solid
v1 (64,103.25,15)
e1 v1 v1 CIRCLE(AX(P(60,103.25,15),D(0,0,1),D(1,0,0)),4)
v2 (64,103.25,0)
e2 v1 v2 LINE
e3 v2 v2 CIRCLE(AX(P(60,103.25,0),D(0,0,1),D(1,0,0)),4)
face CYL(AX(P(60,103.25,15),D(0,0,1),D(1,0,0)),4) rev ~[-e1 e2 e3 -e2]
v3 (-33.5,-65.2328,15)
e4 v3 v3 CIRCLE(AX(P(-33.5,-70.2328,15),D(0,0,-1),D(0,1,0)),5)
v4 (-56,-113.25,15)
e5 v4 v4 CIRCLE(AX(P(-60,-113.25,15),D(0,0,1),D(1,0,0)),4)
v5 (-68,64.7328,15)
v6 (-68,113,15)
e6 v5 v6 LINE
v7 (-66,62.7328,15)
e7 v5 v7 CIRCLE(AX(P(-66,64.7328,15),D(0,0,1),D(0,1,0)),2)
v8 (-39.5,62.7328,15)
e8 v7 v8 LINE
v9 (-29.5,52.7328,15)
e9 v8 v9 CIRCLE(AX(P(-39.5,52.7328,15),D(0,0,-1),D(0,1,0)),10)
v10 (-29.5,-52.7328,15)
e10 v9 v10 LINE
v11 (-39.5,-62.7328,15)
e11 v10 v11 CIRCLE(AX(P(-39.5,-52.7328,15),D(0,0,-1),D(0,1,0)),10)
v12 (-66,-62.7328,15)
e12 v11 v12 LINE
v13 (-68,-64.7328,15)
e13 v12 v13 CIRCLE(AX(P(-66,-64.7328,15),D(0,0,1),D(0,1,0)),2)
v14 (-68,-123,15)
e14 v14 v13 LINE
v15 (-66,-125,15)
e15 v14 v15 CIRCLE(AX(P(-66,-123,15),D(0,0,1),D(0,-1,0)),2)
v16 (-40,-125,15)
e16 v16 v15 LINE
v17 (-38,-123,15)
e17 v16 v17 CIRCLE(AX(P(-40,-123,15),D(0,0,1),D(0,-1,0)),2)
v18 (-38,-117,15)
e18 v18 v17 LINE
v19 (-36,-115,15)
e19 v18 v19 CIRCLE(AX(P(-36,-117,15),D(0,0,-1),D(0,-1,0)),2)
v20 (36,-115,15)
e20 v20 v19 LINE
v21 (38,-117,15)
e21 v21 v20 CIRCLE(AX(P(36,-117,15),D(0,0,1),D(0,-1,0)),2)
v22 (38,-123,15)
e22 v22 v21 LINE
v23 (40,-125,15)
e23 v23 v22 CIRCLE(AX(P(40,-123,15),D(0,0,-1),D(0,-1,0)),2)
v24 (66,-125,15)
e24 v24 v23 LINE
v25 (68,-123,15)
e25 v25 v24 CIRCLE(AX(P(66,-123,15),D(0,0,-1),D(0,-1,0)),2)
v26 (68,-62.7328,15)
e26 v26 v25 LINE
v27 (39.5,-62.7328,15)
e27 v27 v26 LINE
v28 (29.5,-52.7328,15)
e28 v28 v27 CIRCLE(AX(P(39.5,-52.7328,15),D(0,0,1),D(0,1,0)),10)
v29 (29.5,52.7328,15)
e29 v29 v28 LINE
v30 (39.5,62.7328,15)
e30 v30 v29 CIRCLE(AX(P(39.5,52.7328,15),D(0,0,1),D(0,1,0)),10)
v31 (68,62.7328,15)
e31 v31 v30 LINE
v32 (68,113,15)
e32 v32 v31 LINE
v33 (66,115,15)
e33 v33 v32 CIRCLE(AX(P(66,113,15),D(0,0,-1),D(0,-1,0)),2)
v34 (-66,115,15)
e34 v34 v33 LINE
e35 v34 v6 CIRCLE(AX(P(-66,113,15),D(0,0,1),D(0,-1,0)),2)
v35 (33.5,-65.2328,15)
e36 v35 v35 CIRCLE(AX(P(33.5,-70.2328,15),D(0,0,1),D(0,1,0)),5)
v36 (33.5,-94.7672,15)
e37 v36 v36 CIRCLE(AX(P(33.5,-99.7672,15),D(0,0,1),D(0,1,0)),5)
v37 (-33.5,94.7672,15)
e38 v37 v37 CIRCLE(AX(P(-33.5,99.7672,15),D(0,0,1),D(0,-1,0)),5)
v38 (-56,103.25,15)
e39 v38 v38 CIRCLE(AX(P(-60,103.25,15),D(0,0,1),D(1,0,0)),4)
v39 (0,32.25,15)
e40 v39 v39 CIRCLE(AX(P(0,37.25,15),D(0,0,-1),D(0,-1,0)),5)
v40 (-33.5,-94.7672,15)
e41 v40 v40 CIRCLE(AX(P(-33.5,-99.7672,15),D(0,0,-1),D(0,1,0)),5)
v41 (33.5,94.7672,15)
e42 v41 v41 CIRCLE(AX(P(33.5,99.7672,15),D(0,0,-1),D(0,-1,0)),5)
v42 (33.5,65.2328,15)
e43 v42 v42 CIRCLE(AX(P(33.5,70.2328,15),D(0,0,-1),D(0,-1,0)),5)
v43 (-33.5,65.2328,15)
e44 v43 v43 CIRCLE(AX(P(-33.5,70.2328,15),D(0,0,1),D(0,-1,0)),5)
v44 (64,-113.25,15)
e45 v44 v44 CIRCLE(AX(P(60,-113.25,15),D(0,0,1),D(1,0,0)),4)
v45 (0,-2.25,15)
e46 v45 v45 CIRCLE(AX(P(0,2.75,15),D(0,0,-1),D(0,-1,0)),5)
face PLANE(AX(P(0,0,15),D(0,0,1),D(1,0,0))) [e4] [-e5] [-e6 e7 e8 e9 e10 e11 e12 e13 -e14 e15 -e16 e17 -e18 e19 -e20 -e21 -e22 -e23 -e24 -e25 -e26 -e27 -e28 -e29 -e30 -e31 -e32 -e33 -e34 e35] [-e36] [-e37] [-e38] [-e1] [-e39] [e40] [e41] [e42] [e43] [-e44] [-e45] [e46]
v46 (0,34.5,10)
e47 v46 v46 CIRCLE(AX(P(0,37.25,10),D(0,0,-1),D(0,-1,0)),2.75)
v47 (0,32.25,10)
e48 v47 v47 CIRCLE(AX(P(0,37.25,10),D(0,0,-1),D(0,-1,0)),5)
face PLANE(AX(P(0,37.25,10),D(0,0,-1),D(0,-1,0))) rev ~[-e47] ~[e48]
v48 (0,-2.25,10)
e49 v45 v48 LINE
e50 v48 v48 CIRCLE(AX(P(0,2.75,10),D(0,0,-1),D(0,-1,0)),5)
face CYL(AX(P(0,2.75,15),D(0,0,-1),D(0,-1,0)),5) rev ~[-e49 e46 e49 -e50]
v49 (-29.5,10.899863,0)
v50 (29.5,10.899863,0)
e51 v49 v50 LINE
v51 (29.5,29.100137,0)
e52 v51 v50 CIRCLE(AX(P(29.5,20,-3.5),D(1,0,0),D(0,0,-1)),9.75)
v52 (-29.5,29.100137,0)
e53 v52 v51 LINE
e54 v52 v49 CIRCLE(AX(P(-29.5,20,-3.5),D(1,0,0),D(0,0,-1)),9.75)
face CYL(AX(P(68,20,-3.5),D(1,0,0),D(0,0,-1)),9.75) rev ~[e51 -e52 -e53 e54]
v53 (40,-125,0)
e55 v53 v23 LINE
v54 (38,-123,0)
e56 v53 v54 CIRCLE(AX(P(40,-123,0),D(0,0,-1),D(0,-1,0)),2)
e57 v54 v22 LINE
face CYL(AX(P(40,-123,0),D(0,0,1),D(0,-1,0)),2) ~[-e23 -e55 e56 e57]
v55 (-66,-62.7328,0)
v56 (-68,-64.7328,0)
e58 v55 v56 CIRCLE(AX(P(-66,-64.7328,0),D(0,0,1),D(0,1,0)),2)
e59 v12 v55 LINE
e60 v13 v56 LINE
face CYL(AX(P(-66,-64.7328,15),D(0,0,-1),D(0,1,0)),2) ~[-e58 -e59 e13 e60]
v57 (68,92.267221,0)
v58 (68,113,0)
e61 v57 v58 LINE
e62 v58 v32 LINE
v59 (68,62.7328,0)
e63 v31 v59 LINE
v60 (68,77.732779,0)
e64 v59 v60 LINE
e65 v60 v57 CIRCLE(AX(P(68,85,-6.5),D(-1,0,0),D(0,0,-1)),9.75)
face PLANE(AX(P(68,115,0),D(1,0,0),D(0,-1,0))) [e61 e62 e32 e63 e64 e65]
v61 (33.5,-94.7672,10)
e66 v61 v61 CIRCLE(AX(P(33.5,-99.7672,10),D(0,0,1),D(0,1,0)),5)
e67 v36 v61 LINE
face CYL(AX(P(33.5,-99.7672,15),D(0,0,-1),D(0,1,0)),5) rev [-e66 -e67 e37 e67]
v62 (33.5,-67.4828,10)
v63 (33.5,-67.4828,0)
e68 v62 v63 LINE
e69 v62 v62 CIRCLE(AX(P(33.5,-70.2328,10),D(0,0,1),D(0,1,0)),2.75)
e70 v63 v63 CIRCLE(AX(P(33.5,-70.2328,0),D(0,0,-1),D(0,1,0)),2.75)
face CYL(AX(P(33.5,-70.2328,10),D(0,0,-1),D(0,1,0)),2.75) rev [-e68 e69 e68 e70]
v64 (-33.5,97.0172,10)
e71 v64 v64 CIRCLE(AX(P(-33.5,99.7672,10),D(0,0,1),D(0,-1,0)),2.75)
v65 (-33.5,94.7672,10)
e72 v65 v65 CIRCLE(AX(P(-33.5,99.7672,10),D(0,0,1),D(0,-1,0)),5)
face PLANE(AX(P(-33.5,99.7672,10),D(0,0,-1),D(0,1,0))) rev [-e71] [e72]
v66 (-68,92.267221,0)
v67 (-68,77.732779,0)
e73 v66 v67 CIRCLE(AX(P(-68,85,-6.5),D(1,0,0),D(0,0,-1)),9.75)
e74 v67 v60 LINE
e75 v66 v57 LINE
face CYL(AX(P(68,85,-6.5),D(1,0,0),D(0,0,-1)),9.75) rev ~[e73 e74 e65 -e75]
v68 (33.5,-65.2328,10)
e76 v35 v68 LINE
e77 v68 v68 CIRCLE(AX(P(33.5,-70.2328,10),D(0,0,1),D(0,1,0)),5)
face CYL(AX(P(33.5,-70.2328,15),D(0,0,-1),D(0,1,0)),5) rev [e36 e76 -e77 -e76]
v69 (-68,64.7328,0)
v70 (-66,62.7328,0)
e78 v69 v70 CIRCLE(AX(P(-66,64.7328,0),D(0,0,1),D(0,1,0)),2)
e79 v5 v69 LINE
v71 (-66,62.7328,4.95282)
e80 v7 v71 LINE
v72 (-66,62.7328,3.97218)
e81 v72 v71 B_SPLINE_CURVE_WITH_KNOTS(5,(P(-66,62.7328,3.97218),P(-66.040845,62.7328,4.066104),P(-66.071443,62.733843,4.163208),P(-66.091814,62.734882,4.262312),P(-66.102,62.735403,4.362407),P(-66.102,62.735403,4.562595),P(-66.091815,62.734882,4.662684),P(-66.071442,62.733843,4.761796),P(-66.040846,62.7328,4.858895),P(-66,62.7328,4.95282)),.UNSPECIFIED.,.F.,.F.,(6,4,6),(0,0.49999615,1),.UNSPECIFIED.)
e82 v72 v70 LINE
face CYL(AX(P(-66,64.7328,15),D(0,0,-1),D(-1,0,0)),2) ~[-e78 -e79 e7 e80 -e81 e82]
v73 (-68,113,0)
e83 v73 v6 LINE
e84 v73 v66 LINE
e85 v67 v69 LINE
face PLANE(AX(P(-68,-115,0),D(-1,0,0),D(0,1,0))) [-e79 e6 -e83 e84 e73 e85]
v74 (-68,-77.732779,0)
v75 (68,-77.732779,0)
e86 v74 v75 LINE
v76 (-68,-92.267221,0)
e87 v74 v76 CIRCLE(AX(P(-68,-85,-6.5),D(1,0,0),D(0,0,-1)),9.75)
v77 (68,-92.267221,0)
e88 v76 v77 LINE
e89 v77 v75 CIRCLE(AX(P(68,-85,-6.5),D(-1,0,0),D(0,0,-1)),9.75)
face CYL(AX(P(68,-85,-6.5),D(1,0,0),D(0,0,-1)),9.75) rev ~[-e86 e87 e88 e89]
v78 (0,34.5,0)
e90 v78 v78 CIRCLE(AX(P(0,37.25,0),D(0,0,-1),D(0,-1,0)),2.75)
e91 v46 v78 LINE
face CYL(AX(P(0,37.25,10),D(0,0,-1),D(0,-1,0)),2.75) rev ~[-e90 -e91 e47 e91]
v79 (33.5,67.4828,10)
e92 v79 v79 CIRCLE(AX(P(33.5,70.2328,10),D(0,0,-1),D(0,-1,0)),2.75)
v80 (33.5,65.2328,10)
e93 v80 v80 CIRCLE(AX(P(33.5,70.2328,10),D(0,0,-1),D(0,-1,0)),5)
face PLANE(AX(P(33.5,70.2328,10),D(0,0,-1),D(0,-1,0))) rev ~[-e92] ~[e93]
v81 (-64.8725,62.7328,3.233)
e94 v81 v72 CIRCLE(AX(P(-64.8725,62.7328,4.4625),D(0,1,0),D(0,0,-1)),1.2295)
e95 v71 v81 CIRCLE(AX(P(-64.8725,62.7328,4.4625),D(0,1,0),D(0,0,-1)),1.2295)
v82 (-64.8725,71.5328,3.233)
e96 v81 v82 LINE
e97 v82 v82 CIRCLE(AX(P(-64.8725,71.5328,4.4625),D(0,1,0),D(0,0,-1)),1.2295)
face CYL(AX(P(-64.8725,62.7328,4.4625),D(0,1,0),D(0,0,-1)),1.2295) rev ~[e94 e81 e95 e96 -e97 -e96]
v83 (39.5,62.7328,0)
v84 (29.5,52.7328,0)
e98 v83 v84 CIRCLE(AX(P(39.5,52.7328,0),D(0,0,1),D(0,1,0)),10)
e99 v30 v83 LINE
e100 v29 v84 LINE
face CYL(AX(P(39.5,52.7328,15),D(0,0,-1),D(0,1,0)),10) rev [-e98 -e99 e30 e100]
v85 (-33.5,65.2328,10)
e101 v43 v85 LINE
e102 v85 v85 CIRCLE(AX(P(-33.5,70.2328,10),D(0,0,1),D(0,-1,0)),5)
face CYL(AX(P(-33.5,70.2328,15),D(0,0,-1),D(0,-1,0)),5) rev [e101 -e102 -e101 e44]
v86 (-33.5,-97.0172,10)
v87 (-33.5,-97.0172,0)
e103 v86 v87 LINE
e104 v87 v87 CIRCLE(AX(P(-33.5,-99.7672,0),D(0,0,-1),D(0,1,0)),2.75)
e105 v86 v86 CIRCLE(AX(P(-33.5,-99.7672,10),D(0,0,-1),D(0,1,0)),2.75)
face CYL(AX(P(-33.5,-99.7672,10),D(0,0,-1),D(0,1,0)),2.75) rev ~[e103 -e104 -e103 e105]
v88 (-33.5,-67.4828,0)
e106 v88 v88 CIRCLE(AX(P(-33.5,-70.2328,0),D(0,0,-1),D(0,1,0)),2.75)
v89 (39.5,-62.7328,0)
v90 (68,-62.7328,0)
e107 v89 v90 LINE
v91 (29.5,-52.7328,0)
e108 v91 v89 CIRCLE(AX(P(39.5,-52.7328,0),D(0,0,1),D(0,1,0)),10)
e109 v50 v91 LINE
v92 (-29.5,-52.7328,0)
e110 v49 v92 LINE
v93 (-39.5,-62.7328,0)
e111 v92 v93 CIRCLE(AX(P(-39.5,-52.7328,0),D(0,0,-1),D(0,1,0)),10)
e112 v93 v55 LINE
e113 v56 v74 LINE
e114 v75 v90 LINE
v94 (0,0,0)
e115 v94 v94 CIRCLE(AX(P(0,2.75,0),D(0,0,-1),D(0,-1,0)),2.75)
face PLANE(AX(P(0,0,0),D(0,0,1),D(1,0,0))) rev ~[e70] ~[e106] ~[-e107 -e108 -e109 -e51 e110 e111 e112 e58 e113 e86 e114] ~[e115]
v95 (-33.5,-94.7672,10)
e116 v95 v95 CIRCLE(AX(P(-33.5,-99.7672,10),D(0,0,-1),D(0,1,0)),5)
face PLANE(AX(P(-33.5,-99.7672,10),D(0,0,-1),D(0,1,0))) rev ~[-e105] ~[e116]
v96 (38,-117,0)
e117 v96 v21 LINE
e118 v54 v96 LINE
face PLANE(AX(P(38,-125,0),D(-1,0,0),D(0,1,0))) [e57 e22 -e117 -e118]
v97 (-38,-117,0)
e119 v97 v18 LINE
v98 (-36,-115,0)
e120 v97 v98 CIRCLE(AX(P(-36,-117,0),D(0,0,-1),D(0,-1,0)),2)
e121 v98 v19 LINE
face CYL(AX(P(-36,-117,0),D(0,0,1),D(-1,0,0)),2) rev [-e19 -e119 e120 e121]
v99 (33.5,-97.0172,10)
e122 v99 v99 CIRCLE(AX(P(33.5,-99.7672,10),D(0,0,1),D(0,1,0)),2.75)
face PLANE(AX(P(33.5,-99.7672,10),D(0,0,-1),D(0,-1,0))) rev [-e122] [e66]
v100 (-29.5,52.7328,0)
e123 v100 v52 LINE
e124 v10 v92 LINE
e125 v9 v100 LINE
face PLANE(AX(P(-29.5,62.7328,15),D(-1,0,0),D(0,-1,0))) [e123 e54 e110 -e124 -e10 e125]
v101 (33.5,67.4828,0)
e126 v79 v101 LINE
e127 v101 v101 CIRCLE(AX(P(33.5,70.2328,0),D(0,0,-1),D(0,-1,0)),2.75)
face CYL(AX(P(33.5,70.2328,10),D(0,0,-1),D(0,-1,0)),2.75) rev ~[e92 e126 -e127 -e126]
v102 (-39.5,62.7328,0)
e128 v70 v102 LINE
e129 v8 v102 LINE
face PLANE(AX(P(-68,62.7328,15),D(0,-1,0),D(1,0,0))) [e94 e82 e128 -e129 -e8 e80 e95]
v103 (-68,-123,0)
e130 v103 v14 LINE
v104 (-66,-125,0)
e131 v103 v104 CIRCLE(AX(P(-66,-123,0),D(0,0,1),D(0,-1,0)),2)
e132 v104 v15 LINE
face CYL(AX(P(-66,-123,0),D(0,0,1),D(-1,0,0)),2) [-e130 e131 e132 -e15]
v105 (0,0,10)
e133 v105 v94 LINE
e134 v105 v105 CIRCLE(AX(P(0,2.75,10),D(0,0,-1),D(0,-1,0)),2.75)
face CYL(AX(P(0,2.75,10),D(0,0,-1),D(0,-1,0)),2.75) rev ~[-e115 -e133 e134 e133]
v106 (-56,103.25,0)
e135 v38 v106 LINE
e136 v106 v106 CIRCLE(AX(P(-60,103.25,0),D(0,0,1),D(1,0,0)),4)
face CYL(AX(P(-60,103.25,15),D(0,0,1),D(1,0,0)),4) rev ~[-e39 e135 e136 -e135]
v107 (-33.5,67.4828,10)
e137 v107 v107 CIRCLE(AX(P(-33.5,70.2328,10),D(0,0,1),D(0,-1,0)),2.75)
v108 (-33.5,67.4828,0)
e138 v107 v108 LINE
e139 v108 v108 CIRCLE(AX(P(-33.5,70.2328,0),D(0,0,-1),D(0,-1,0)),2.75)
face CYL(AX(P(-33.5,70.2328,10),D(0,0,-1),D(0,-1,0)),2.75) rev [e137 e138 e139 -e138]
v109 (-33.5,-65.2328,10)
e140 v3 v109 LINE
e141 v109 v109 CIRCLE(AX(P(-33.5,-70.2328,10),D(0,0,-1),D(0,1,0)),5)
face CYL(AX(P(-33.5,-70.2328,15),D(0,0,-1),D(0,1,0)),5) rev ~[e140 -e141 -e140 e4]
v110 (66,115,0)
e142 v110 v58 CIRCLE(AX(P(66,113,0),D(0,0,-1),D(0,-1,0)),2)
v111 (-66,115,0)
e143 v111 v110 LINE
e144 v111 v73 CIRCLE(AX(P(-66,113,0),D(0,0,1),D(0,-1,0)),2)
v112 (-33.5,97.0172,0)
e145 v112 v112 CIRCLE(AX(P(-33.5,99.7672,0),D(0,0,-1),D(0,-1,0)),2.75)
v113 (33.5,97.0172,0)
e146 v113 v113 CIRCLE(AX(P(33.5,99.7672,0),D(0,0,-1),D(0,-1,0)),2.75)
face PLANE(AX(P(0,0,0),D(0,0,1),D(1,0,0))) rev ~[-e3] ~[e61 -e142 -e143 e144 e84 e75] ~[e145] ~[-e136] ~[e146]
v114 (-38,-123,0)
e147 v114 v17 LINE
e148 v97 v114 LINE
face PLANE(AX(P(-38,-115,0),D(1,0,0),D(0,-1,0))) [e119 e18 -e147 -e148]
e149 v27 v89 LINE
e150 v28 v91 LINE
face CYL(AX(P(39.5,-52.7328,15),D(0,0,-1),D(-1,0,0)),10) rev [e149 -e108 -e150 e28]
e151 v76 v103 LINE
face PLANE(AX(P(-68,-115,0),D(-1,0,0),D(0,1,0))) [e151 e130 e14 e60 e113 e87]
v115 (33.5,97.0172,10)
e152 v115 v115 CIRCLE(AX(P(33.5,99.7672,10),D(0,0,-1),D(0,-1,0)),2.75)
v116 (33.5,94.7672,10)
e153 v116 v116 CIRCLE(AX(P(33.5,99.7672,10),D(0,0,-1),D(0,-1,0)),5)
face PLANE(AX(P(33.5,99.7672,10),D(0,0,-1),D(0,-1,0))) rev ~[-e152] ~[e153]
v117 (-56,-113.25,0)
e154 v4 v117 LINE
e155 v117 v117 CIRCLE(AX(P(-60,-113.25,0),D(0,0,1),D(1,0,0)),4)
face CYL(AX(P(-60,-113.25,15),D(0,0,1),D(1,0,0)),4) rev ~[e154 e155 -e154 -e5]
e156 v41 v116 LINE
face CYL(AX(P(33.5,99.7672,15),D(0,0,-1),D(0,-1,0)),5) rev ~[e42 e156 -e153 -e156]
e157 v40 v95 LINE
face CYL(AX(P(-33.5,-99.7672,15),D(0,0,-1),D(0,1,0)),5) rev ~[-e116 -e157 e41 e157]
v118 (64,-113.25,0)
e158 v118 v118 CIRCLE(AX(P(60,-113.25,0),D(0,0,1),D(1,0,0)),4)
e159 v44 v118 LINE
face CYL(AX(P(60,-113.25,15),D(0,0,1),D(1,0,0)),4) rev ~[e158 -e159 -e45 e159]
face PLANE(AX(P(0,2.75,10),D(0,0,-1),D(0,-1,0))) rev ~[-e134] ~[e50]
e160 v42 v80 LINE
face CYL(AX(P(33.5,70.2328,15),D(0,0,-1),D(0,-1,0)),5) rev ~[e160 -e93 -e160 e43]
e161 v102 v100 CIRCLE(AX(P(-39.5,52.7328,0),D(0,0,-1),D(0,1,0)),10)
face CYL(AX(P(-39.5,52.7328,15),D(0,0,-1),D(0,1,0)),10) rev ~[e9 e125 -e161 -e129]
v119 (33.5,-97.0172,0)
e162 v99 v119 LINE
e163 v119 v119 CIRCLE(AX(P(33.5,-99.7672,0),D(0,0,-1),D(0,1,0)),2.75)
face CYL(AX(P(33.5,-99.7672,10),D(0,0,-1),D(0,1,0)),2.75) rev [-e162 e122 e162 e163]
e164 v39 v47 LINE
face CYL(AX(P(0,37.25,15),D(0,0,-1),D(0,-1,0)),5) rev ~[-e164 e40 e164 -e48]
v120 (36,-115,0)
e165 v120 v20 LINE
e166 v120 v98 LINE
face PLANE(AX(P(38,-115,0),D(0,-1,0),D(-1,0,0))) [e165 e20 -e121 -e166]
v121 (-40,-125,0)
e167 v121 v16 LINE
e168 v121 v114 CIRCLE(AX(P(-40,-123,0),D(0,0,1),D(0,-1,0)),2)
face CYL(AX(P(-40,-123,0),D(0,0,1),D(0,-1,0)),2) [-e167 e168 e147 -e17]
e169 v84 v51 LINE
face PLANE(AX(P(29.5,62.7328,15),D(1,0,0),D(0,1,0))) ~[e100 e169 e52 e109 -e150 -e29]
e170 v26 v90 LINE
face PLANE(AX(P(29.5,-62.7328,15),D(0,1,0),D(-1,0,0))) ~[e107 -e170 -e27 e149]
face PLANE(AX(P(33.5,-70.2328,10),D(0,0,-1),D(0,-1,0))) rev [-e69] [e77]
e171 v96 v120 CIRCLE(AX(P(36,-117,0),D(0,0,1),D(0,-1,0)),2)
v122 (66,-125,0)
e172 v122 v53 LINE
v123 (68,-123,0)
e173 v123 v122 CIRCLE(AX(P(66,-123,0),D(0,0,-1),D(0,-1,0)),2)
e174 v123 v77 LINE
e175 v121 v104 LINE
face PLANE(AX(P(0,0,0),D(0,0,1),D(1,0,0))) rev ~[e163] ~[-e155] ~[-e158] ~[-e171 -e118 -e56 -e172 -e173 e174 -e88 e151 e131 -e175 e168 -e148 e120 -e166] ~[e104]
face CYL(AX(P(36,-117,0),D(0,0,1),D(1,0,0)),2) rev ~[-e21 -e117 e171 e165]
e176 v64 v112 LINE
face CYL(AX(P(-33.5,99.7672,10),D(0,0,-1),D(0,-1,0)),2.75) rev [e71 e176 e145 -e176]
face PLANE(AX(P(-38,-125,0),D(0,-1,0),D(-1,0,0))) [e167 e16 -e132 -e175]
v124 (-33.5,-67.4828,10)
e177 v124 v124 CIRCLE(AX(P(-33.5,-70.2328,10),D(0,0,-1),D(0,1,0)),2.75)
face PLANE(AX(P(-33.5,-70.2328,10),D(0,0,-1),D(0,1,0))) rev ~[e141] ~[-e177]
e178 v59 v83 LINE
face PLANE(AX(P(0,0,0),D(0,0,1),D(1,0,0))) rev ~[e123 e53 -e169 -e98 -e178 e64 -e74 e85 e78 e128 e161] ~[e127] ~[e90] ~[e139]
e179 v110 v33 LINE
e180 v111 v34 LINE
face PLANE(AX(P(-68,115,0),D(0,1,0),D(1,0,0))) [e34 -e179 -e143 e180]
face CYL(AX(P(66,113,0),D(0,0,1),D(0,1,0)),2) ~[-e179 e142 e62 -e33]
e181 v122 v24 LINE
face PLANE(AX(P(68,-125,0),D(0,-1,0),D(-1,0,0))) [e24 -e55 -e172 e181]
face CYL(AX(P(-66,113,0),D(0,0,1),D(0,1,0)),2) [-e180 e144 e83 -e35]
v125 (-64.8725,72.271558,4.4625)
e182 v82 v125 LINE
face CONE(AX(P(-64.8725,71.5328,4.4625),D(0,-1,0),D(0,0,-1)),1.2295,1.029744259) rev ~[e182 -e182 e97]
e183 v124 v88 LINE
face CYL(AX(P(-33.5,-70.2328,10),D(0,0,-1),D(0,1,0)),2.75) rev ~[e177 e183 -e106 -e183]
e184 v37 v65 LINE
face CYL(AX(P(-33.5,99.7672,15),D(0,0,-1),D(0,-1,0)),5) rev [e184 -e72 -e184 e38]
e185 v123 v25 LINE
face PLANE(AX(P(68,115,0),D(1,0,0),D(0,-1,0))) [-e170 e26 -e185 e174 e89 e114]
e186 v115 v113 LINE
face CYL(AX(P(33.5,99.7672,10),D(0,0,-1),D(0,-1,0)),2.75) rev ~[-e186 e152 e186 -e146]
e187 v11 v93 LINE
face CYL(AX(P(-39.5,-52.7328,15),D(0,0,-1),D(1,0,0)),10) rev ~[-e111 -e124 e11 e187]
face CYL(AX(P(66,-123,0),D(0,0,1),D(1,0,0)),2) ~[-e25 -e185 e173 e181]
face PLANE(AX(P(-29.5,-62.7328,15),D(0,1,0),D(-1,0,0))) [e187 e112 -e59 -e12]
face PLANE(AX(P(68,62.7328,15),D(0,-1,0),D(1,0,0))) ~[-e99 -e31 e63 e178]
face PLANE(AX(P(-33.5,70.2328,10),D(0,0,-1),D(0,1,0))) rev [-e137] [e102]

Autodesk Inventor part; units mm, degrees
ref_plane "YZ Plane" through (0, 0, 0) normal (1, 0, 0) x (0, 1, 0)
ref_plane "XZ Plane" through (0, 0, 0) normal (0, 1, 0) x (-1, 0, 0)
ref_plane "XY Plane" through (0, 0, 0) normal (0, 0, 1) x (1, 0, 0)
sketch "Sketch1" plane through (0, 0, 0) normal (0, 0, 1) x (1, 0, 0)
  line L0 (-68, 115) -> (68, 115)
  line L1 (68, 115) -> (68, -115)
  line L2 (68, -115) -> (-68, -115)
  line L3 (-68, -115) -> (-68, 115)
  line L4 (-68, -115) -> (-38, -115)
  line L5 (-38, -115) -> (-38, -125)
  line L6 (-38, -125) -> (-68, -125)
  line L7 (-68, -125) -> (-68, -115)
  line L8 (38, -115) -> (68, -115)
  line L9 (68, -115) -> (68, -125)
  line L10 (68, -125) -> (38, -125)
  line L11 (38, -125) -> (38, -115)
  point P0 (0, 0)
  point P1 (0, 115)
  point P2 (-68, 0)
  dimension "d0" = 230
  dimension "d1" = 136
  dimension "d49" = 10
  dimension "d50" = 30
extrude "Extrusion1" add sketch "Sketch1" along normal blind 15
sketch "Sketch3" plane through (0, 0, 15) normal (0, 0, 1) x (1, 0, 0)
  circle A0 centre (-60, 103.25) radius 4
  circle A1 centre (60, 103.25) radius 4
  circle A2 centre (60, -113.25) radius 4
  circle A3 centre (-60, -113.25) radius 4
  line L0 (68, 115) -> (-68, 115) projected
  line L1 (-68, 115) -> (-68, -125) projected
  line L2 (-38, -115) -> (38, -115) projected
  line L3 (68, -125) -> (68, 115) projected
  point P0 (0, 0)
  point P1 (-68, -115)
  dimension "d10" = 11.75
  dimension "d11" = 8
  dimension "d12" = 8
  dimension "d14" = 1.75
  dimension "d60" = 8
extrude "Extrusion3" cut sketch "Sketch3" against normal through all
sketch "Sketch2" plane through (68, -115, 0) normal (1, 0, 0) x (0, 0, -1)
  circle A0 centre (6.5, 200) radius 9.75
  circle A1 centre (6.5, 30) radius 9.75
  line L0 (0, 230) -> (-15, 230) projected
  circle A2 centre (3.5, 135) radius 9.75
  line L1 (0, -10) -> (0, 230) projected
  line L2 (0, -10) -> (-15, -10) projected
  point P0 (0, 115)
  dimension "d6" = 19.5
  dimension "d7" = 30
  dimension "d51" = 6.5
  dimension "d53" = 19.5
  dimension "d54" = 40
  dimension "d55" = 20
  dimension "d56" = 3.5
extrude "Extrusion2" cut sketch "Sketch2" against normal through all
sketch "Sketch4" plane through (0, 0, 15) normal (0, 0, 1) x (1, 0, 0)
  line L0 (-68, 77.7328) -> (68, 77.7328) projected
  line L1 (68, -77.7328) -> (-68, -77.7328) projected
  circle A0 centre (60, -113.25) radius 4 projected
  circle A1 centre (60, 103.25) radius 4 projected
  circle A2 centre (-60, -113.25) radius 4 projected
  circle A3 centre (-60, 103.25) radius 4 projected
  line L2 (-38, -115) -> (38, -115) projected
  line L3 (68, 115) -> (-68, 115) projected
  line L4 (-14.5, 0) -> (14.5, 0) construction
  line L5 (-68, 62.7328) -> (-29.5, 62.7328)
  line L6 (-29.5, 62.7328) -> (-29.5, -62.7328)
  line L7 (-29.5, -62.7328) -> (-68, -62.7328)
  line L8 (-68, -62.7328) -> (-68, 62.7328)
  line L9 (-68, 115) -> (-68, -125) projected
  line L10 (38, -115) -> (38, -125) projected
  line L11 (38, -125) -> (68, -125) projected
  line L12 (68, -125) -> (68, 115) projected
  line L13 (-68, -125) -> (-38, -125) projected
  line L14 (-38, -125) -> (-38, -115) projected
  line L15 (-68, 115) -> (-68, -125) projected
  point P0 (0, 0)
  point P1 (-68, -115)
  point P2 (0, 0)
  dimension "d18" = 29
  dimension "d19" = 15
  dimension "d20" = 15
  dimension "d21" = 15
extrude "Extrusion4" cut sketch "Sketch4" against normal through all contours L5 L6 L7 L8
mirror "Mirror1" about plane through (0, 0, 0) normal (1, 0, 0) of "Extrusion4"
sketch "Sketch6" plane through (0, 0, 15) normal (0, 0, 1) x (1, 0, 0)
  circle A0 centre (0, 37.25) radius 2.75
  circle A1 centre (0, 2.75) radius 2.75
  line L0 (-20, -56.5) -> (-20, -71.5) projected
  line L1 (20, -71.5) -> (-20, -71.5) projected
  line L2 (20, -71.5) -> (20, -56.5) projected
  line L3 (20, -56.5) -> (50, -56.5) projected
  line L4 (50, 56.5) -> (50, -56.5) projected
  line L5 (50, 56.5) -> (20, 56.5) projected
  line L6 (20, 56.5) -> (20, 71.5) projected
  line L7 (-20, 71.5) -> (20, 71.5) projected
  line L8 (-20, 71.5) -> (-20, 56.5) projected
  line L9 (-20, 56.5) -> (-50, 56.5) projected
  line L10 (-50, -56.5) -> (-50, 56.5) projected
  line L11 (-50, -56.5) -> (-20, -56.5) projected
  line L12 (29.5, -62.7328) -> (29.5, 62.7328) projected
  line L13 (68, 115) -> (-68, 115) projected
  point P0 (0, 0)
  point P1 (29.5, -52.7328)
  point P2 (29.5, 52.7328)
  point P3 (0, 115)
  dimension "d37" = 5.5
  dimension "d39" = 34.5
  dimension "d40" = 77.75
hole "Hole2" at (0, 37.25, 15) at (0, 2.75, 15) direction (0, 0, -1) diameter 5.5 end through all counterbore diameter 10 counterbore depth 5
sketch "Sketch5" plane through (0, 0, 15) normal (0, 0, -1) x (-1, 0, 0)
  circle A0 centre (-60, 103.25) radius 4 projected
  line L0 (-68, -125) -> (-68, 115) projected
  line L1 (-68, 115) -> (68, 115) projected
  point P0 (0, 0)
  point P1 (-33.5, 99.7672)
  point P2 (-33.5, 70.2328)
  point P3 (-68, 62.7328)
  dimension "d57" = 34.5
  dimension "d58" = 15.2328
  dimension "d59" = 29.5344
hole "Hole1" at (33.5, 70.2328, 15) at (33.5, 99.7672, 15) direction (0, 0, -1) diameter 5.5 end through all counterbore diameter 10 counterbore depth 5
mirror "Mirror2" about plane through (0, 0, 0) normal (1, 0, 0) of "Hole1"
mirror "Mirror3" about plane through (0, 0, 0) normal (0, 1, 0) of "Hole1", "Mirror2"
fillet "Fillet2" radius 2 10 edges at (-68, 115, 7.5) (-68, 62.7328, 7.5) (-68, -62.7328, 7.5) (-68, -125, 7.5) (-38, -125, 7.5) (-38, -115, 7.5) (38, -115, 7.5) (38, -125, 7.5) (68, -125, 7.5) (68, 115, 7.5)
fillet "Fillet3" radius 10 4 edges at (-29.5, -62.7328, 7.5) (-29.5, 62.7328, 7.5) (29.5, 62.7328, 7.5) (29.5, -62.7328, 7.5)
sketch "Sketch8" plane through (-66, 62.7328, 0) normal (0, -1, 0) x (1, 0, 0)
  circle A0 centre (1.1275, 4.4625) radius 1.7875 projected
  point P0 (66, 0)
hole "Hole4" at (-64.8725, 62.7328, 4.4625) direction (0, 1, 0) diameter 2.459 depth 8.8 tip angle 118 thread size "M3x0.5" class "6H" standard "ISO Metric profile"
equation "\"d20\" = d19"
equation "\"d21\" = d19"
properties part number "0008-10-006 suport injectomat" material "ABS Plastic"
